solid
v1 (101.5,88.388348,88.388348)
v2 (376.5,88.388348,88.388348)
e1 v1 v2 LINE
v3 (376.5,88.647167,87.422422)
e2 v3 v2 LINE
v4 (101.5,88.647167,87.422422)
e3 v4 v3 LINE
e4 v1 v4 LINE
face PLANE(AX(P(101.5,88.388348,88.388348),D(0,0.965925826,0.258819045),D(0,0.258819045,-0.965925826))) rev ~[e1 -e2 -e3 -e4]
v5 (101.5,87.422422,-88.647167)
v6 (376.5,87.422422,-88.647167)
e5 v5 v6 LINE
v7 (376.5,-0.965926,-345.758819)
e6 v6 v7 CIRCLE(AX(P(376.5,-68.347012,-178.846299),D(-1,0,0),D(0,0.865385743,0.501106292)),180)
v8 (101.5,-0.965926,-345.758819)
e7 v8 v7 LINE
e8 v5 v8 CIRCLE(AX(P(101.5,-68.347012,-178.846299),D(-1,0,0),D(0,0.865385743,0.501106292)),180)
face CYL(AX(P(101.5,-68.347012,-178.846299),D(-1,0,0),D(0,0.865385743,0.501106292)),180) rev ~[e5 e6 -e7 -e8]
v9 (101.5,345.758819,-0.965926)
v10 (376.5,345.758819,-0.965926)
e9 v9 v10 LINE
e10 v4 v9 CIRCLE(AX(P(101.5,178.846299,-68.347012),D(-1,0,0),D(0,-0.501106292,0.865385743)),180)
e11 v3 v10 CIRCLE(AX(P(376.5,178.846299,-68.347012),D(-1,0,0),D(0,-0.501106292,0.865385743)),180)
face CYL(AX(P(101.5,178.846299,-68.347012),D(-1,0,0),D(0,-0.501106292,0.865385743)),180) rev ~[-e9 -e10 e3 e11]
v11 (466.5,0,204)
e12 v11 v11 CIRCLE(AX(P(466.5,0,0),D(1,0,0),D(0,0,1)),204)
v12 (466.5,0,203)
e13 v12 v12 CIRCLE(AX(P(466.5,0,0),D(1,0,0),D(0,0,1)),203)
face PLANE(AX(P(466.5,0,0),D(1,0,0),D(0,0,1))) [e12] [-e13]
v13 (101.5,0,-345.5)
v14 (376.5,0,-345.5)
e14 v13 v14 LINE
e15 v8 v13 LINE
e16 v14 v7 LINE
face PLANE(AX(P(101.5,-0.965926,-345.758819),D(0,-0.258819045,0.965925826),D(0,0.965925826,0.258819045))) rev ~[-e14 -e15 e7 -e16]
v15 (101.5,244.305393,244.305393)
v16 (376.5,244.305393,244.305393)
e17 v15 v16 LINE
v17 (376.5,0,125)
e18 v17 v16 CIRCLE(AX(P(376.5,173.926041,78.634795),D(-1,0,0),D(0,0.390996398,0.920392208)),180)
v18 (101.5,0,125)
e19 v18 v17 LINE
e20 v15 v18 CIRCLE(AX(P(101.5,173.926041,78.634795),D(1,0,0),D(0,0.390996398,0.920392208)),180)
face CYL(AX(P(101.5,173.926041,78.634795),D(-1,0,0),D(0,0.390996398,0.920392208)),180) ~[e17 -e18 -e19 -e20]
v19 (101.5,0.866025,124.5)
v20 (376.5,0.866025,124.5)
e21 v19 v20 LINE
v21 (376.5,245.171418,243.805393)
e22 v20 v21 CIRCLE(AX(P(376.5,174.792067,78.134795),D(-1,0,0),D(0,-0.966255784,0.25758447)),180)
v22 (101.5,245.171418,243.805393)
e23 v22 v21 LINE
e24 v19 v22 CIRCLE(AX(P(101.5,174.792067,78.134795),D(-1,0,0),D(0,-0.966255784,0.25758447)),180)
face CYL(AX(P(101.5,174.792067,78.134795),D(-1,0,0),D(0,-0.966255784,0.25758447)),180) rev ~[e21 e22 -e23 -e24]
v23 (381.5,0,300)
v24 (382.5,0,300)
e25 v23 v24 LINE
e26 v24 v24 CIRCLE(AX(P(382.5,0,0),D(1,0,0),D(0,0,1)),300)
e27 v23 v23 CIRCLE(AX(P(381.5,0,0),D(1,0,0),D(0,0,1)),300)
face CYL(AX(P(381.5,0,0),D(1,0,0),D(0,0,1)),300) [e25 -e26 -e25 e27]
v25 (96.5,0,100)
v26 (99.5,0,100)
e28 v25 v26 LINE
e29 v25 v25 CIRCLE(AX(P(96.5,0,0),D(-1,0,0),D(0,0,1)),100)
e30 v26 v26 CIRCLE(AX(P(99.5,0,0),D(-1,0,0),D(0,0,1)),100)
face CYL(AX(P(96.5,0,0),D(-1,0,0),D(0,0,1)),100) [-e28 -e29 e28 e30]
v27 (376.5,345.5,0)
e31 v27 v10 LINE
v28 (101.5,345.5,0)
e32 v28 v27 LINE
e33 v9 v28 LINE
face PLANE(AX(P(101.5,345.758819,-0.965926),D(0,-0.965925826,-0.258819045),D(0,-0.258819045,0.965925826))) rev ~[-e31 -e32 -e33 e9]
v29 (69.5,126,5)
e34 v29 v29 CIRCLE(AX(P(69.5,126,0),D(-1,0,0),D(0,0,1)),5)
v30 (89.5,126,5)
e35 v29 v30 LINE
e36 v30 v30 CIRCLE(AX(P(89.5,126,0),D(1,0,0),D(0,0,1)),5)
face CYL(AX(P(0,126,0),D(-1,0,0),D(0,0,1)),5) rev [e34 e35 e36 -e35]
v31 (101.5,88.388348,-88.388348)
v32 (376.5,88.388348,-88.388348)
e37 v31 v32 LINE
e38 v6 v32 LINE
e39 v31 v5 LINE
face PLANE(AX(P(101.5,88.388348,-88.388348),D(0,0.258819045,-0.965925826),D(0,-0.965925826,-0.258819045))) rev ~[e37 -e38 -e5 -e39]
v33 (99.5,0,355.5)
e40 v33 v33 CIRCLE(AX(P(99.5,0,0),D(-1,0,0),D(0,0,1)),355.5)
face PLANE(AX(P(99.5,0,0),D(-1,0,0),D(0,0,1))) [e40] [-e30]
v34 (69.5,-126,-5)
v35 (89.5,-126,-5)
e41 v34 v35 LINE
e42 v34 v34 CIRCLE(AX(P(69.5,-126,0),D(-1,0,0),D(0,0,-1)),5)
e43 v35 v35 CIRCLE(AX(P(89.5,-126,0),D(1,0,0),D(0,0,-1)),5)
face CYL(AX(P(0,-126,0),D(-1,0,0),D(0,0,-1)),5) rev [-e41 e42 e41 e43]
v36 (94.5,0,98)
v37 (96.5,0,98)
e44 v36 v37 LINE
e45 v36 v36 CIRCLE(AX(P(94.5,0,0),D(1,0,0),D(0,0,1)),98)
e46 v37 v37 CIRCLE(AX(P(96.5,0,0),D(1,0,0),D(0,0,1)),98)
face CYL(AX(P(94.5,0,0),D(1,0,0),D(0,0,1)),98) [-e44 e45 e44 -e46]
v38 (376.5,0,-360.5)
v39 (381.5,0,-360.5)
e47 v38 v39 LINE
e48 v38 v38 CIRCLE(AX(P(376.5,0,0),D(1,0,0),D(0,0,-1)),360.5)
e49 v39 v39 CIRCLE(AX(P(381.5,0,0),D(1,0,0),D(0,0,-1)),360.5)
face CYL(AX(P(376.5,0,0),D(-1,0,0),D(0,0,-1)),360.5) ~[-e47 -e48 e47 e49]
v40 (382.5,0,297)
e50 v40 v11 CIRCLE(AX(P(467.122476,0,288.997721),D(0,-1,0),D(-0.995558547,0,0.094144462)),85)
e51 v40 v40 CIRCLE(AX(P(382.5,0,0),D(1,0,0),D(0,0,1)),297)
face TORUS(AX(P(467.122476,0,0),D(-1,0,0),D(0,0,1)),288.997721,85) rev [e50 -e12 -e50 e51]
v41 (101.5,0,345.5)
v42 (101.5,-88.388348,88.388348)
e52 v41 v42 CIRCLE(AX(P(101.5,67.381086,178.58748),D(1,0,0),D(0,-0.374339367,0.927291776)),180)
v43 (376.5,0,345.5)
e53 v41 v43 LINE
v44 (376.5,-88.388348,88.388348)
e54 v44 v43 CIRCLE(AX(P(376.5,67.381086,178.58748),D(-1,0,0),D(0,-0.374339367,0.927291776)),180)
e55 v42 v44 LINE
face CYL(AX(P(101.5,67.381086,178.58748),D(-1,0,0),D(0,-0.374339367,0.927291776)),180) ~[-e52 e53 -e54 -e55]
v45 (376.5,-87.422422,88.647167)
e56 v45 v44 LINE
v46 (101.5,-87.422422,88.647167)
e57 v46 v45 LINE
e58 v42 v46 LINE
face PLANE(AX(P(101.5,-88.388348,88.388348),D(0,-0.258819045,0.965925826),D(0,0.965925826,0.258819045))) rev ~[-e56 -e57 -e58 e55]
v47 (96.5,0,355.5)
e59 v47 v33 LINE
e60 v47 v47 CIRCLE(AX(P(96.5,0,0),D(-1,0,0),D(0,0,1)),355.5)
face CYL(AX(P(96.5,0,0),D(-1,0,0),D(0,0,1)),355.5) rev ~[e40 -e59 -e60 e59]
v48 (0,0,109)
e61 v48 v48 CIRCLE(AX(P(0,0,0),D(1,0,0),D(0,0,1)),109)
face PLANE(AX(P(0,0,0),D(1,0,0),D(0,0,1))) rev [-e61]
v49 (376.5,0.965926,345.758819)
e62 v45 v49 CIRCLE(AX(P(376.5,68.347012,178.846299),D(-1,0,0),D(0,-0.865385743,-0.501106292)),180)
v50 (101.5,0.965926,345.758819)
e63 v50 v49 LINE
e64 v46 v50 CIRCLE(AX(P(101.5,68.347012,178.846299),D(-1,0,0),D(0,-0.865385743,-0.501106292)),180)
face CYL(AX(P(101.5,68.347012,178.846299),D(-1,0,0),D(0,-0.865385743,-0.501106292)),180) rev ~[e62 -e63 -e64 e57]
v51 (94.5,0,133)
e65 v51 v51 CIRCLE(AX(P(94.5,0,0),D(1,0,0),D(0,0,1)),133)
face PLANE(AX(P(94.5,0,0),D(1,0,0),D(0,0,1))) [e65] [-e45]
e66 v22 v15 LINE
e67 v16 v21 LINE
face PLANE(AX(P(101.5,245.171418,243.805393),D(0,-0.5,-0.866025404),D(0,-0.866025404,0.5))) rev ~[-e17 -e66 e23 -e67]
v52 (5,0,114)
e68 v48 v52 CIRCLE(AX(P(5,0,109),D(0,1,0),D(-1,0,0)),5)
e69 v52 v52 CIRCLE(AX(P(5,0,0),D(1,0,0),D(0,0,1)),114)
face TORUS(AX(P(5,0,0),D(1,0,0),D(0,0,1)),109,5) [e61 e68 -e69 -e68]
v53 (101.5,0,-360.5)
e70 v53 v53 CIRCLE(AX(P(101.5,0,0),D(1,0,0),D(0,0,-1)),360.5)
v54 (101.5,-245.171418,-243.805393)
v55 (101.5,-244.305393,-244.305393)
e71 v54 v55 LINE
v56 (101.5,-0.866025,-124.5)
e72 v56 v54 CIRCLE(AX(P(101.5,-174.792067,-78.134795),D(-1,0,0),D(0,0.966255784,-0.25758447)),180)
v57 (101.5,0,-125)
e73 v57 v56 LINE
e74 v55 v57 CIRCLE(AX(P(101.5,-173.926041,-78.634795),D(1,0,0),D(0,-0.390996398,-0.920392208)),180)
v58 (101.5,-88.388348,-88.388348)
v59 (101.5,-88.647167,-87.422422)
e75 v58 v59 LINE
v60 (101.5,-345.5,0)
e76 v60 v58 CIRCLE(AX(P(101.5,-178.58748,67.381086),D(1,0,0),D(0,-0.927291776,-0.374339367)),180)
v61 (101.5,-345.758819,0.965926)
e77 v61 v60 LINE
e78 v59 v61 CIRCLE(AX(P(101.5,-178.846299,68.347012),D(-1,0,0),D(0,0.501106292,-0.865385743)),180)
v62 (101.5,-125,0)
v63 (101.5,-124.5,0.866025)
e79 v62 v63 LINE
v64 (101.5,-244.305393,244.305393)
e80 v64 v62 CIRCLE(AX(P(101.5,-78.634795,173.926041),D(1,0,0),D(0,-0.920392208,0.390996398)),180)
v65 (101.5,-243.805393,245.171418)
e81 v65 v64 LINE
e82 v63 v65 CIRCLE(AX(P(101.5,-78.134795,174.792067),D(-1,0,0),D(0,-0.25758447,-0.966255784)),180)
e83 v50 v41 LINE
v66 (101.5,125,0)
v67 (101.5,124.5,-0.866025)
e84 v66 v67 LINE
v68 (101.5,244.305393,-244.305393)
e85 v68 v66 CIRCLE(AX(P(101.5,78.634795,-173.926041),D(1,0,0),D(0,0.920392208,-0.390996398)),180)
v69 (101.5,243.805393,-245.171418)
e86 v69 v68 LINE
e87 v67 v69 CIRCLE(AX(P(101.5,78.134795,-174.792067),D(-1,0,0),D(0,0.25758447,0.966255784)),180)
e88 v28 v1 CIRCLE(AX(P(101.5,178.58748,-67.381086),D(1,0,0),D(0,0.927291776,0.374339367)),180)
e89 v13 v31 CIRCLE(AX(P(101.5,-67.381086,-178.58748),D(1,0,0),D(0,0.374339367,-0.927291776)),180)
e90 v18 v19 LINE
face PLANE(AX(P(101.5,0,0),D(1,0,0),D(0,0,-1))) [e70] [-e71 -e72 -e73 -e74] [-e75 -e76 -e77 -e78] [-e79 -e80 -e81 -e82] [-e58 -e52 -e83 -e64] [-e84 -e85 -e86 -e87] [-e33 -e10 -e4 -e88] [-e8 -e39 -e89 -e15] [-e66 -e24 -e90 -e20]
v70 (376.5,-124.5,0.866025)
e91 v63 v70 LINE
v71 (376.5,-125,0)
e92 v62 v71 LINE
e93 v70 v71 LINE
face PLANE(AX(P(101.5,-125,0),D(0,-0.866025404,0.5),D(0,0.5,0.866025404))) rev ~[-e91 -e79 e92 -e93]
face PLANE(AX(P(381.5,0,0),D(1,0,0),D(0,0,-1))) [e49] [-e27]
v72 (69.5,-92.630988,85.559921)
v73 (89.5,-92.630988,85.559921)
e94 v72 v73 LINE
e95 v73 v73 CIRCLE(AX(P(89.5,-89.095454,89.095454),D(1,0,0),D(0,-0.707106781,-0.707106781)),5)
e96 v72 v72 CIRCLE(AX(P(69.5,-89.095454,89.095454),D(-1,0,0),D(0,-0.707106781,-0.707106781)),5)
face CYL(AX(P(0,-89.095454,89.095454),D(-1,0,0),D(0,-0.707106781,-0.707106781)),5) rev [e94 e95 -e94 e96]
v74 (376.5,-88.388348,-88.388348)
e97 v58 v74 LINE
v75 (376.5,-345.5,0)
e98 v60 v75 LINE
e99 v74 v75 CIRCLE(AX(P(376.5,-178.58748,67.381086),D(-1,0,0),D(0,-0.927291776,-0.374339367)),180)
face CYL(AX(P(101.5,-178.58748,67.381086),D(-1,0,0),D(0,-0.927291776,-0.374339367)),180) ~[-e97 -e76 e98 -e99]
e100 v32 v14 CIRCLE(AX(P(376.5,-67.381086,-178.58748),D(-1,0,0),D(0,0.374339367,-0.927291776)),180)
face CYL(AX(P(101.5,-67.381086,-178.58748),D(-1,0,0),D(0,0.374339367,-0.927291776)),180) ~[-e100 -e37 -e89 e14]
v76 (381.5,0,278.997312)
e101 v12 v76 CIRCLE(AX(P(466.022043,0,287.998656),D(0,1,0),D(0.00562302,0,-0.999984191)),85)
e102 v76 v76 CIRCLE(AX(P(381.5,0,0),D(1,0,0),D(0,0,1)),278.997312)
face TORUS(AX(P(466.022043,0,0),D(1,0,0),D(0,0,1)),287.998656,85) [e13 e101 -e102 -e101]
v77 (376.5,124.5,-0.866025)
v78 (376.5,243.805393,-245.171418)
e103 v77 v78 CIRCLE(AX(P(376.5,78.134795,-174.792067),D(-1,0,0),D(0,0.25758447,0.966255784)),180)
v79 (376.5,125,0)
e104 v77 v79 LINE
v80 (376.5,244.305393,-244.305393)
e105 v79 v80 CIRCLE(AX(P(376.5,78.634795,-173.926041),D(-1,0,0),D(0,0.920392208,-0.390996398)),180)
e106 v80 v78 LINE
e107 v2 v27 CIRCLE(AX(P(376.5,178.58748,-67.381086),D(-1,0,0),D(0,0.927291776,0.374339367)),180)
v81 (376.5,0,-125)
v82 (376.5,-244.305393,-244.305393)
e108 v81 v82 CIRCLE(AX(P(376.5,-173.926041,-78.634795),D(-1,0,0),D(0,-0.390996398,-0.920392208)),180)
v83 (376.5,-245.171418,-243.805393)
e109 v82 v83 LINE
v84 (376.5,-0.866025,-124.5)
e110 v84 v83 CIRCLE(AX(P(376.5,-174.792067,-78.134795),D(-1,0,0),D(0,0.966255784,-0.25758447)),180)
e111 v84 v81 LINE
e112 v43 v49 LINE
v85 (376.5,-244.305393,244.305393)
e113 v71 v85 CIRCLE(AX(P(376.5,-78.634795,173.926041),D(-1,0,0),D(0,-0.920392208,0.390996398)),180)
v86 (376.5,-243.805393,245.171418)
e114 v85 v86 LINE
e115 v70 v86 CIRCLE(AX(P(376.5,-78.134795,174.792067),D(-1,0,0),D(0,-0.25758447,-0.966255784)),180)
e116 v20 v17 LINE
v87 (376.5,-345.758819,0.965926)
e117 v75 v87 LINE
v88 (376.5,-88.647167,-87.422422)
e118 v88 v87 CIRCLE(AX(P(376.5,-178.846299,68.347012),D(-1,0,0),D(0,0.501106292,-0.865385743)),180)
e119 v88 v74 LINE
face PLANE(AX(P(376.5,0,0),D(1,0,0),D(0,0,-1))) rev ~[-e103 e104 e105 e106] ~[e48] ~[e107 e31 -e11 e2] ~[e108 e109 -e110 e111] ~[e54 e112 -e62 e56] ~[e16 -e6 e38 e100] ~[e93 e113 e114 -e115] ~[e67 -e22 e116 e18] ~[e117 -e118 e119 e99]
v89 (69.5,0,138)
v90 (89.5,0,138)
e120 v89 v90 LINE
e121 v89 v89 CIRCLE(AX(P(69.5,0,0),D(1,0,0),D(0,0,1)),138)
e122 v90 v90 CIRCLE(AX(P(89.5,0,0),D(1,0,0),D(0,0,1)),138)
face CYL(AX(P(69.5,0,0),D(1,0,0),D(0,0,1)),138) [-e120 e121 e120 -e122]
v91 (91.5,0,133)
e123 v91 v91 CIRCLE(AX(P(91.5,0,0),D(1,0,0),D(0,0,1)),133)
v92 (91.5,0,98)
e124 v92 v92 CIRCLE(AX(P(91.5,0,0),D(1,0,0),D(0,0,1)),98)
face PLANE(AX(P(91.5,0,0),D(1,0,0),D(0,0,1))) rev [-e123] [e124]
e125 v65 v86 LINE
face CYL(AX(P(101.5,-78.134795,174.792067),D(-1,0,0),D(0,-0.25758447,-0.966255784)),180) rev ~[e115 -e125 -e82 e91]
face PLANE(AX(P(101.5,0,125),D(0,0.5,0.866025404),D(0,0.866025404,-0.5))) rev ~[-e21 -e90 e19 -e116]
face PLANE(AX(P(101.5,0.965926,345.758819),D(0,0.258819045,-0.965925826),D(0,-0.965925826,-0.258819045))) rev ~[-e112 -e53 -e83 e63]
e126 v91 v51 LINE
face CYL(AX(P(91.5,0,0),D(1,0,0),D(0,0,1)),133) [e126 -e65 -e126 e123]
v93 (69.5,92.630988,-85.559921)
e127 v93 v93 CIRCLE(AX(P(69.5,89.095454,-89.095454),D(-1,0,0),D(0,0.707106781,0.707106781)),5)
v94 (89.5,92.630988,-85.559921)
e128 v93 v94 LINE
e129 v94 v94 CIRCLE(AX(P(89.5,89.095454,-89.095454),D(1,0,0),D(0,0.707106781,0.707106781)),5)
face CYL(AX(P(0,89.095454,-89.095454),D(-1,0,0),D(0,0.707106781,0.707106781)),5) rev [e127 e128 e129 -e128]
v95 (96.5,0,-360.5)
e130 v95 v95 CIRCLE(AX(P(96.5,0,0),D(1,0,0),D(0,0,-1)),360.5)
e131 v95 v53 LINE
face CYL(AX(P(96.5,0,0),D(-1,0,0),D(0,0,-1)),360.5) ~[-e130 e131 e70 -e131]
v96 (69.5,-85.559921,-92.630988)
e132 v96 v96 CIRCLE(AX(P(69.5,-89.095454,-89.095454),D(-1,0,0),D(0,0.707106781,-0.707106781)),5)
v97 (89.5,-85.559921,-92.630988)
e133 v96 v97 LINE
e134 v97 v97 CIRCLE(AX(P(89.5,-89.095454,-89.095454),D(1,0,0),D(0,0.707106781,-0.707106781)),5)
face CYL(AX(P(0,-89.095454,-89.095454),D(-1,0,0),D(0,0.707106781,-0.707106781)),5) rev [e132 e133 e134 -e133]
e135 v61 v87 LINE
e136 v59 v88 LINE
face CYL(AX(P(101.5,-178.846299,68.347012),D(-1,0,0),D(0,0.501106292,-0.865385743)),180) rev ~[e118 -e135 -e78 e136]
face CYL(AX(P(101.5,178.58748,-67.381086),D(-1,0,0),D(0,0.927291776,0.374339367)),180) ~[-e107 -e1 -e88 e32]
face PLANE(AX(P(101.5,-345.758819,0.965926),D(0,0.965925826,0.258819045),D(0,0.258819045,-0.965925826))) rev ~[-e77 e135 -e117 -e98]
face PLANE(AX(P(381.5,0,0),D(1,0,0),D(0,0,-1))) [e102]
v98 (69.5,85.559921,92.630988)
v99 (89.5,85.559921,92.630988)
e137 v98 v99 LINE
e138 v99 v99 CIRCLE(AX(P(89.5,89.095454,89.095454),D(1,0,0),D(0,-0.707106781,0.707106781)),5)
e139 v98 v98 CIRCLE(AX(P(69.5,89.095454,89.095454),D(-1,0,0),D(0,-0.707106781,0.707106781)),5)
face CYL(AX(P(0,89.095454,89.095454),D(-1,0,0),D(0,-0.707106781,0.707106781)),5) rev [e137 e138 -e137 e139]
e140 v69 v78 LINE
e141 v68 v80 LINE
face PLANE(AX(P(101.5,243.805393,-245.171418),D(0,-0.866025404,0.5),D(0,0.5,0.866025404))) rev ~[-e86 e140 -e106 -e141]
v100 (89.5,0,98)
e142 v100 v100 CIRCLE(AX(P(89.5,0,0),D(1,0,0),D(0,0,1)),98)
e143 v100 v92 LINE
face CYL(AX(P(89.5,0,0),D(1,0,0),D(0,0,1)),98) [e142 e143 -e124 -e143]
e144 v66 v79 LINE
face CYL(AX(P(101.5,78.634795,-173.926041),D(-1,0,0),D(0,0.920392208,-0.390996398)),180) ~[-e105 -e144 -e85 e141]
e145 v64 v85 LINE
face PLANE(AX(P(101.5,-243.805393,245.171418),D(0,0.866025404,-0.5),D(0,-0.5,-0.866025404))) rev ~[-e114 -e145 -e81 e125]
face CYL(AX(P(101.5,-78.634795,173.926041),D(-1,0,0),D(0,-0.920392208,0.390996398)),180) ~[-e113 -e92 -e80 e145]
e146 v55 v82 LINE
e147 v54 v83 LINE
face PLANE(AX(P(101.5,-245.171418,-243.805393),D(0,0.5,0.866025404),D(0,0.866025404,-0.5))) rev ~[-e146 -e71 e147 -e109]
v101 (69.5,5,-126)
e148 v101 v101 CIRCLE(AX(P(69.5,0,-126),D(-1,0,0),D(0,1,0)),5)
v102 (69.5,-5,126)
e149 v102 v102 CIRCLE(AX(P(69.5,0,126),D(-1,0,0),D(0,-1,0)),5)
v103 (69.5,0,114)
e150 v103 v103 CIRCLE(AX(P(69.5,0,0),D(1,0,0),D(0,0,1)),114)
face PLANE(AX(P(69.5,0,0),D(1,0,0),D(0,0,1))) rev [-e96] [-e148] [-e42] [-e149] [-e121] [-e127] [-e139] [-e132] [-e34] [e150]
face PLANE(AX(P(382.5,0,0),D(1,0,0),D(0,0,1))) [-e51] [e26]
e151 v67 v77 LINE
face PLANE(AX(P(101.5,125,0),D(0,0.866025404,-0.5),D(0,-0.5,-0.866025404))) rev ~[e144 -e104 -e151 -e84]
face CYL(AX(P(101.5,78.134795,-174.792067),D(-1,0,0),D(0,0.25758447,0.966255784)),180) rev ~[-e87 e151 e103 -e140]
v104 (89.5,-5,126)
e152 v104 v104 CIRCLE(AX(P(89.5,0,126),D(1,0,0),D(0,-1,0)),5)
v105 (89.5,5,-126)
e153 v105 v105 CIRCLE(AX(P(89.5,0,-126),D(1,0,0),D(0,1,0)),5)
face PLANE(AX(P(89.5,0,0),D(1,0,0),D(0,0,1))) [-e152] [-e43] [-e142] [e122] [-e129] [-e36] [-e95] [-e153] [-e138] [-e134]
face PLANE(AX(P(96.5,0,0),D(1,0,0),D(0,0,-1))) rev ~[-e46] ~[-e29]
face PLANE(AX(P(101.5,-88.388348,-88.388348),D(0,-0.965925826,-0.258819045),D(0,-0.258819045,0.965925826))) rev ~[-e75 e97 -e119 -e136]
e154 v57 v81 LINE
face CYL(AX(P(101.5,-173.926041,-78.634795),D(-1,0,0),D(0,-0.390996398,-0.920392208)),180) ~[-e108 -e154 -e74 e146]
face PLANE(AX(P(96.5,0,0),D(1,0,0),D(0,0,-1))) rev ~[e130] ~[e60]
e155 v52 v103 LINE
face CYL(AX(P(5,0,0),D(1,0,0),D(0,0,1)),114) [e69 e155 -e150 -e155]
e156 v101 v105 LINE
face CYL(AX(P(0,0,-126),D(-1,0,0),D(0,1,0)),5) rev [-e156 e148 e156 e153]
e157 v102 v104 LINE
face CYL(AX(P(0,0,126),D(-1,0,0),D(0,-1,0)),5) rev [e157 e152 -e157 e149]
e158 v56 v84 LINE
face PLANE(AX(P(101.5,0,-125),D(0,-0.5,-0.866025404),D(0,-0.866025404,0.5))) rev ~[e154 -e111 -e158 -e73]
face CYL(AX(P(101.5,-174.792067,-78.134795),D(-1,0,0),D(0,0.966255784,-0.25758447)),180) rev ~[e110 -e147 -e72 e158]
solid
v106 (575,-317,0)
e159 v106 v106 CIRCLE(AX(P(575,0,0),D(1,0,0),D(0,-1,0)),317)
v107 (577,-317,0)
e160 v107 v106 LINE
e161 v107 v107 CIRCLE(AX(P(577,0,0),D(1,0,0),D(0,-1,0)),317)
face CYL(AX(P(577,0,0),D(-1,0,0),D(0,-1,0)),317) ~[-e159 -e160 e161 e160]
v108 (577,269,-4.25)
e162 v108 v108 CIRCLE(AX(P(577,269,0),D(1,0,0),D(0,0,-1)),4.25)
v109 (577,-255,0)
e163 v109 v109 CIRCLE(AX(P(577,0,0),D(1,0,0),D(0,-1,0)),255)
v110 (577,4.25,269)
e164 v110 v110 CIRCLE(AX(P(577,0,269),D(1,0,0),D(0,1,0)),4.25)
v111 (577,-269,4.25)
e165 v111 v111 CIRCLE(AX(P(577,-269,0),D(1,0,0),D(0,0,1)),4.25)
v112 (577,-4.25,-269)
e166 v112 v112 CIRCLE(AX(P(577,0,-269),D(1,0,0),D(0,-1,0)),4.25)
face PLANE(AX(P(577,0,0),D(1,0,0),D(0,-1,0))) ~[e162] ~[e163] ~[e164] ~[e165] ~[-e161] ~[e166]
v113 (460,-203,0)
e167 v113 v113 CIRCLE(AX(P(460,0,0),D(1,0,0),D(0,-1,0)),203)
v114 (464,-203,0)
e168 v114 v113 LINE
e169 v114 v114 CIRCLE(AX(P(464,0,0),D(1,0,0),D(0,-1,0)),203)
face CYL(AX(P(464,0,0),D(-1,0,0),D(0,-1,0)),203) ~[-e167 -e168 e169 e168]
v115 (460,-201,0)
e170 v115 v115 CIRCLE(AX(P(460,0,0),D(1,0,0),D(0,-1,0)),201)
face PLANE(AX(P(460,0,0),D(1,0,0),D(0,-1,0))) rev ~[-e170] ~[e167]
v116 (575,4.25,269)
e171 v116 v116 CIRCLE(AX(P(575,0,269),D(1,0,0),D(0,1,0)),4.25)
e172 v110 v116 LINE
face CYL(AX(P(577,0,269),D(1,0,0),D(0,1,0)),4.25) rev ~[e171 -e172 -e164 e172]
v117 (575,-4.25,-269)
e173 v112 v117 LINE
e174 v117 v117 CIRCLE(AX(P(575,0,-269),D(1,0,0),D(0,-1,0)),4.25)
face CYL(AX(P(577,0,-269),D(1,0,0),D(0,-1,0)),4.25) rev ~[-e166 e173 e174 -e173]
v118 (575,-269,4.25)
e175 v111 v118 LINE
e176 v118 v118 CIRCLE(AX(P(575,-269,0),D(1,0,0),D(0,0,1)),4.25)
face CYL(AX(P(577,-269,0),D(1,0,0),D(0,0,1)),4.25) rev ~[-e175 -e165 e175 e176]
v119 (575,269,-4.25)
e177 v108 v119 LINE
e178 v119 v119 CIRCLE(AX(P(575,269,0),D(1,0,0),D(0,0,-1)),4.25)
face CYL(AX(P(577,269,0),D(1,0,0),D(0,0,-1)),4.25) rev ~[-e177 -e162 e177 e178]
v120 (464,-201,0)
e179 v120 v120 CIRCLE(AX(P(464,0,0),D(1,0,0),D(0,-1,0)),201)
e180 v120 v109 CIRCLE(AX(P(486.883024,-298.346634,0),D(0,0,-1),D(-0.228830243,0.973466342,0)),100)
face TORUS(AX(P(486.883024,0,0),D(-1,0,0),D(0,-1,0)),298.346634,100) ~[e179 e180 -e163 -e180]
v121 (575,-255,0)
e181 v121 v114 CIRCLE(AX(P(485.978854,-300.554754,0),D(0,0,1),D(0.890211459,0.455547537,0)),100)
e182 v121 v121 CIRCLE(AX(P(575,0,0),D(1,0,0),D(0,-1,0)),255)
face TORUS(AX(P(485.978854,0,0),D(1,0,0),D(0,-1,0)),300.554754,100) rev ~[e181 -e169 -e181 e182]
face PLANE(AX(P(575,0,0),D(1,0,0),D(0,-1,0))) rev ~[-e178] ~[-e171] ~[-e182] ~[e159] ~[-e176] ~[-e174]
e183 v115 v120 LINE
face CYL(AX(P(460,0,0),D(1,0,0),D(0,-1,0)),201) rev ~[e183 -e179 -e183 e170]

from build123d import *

# Parameters (mm, degrees)
SKETCH2_R         = 360.5
EXTRUDE1_DEPTH    = 5
SKETCH9_R         = 355.5
SKETCH9_R_2       = 100
EXTRUDE7_DEPTH    = 3
SKETCH3_R         = 360.5
EXTRUDE2_DEPTH    = 5
EXTRUDE3_DEPTH    = 280
CIRPATTERN1_COUNT = 8
SKETCH7_R         = 4.25
EXTRUDE5_DEPTH    = 5
CIRPATTERN2_COUNT = 4
SKETCH8_R         = 5
EXTRUDE6_DEPTH    = 89.5
CIRPATTERN3_COUNT = 8


with BuildPart() as part:
    # Sketch1 → Revolve1 (revolve)
    with BuildSketch(Plane.XY, mode=Mode.PRIVATE) as revolve1_sk:
        with BuildLine():
            Line((0, 0), (0, 109))
            ThreePointArc((0, 109), (1.464466094, 112.535533906), (5, 114))
            Line((5, 114), (69.5, 114))
            Line((69.5, 114), (69.5, 138))
            Line((69.5, 138), (89.5, 138))
            Line((89.5, 138), (89.5, 98))
            Line((89.5, 98), (91.5, 98))
            Line((91.5, 98), (91.5, 133))
            Line((91.5, 133), (94.5, 133))
            Line((94.5, 133), (94.5, 98))
            Line((94.5, 98), (96.5, 98))
            Line((96.5, 98), (96.5, 0))
            Line((96.5, 0), (0, 0))
        make_face()
    revolve(revolve1_sk.sketch.rotate(Axis((0, 0, 0), (1, 0, 0)), 90), axis=Axis((0, 0, 0), (1, 0, 0)))

    # Sketch2 → Extrude1 (add)
    with BuildSketch(Plane(origin=(96.5, 0, 0), x_dir=(0, 0, -1), z_dir=(1, 0, 0))):
        Circle(SKETCH2_R)
    extrude(amount=EXTRUDE1_DEPTH)

    # Sketch9 → Extrude7 (cut)
    with BuildSketch(Plane.ZY.offset(-96.5)):
        Circle(SKETCH9_R)
        Circle(SKETCH9_R_2, mode=Mode.SUBTRACT)
    extrude(amount=-EXTRUDE7_DEPTH, mode=Mode.SUBTRACT)



with BuildPart() as body_2:
    # Sketch3 → Extrude2 (new body)
    with BuildSketch(Plane(origin=(376.5, 0, 0), x_dir=(0, 0, -1), z_dir=(1, 0, 0))):
        Circle(SKETCH3_R)
    extrude(amount=EXTRUDE2_DEPTH)


with BuildPart() as part_1:
    add(part.part)

    add(body_2.part)  # Extrude3 merges body 2
    # Sketch4 → Extrude3 (add)
    with BuildSketch(Plane(origin=(101.5, 0, 0), x_dir=(0, 0, -1), z_dir=(1, 0, 0))):
        with BuildLine():
            Line((0, 125), (0.866025404, 124.5))
            ThreePointArc((0.866025404, 124.5), (95.805210607, 239.87865649), (245.171418304, 243.8053929))
            Line((245.171418304, 243.8053929), (244.3053929, 244.3053929))
            ThreePointArc((244.3053929, 244.3053929), (94.939185203, 240.37865649), (0, 125))
        make_face()
    extrude3 = extrude(amount=EXTRUDE3_DEPTH)

    # CirPattern1: Extrude3 ×8 about axis
    cirpattern1_axis = Axis((0, 0, 0), (1, 0, 0))
    for i in range(1, CIRPATTERN1_COUNT):
        add(extrude3.rotate(cirpattern1_axis, i * 360 / CIRPATTERN1_COUNT))

    # Sketch5 → Revolve2 (revolve)
    with BuildSketch(Plane.XY, mode=Mode.PRIVATE) as revolve2_sk:
        with BuildLine():
            Line((381.5, 300), (382.5, 300))
            Line((382.5, 300), (382.5, 297))
            ThreePointArc((382.5, 297), (404.043751848, 232.023388766), (466.5, 204))
            Line((466.5, 204), (466.5, 203))
            ThreePointArc((466.5, 203), (402.975614999, 230.988588031), (381.5, 297))
            Line((381.5, 297), (381.5, 300))
        make_face()
    revolve(revolve2_sk.sketch.rotate(Axis((0, 0, 0), (1, 0, 0)), 90), axis=Axis((0, 0, 0), (1, 0, 0)))

    # Sketch8 → Extrude6 (cut)
    with BuildSketch(Plane(origin=(0, 0, 0), x_dir=(0, 0, -1), z_dir=(1, 0, 0))):
        with Locations(Location((0, 126, 0), (0, 0, 180))):
            Circle(SKETCH8_R)
    extrude6 = extrude(amount=EXTRUDE6_DEPTH, mode=Mode.SUBTRACT)

    # CirPattern3: Extrude6 ×8 about axis
    cirpattern3_axis = Axis((0, 0, 0), (1, 0, 0))
    for i in range(1, CIRPATTERN3_COUNT):
        add(extrude6.rotate(cirpattern3_axis, i * 360 / CIRPATTERN3_COUNT), mode=Mode.SUBTRACT)


with BuildPart() as body_2_2:
    # Sketch6 → Revolve3 (revolve)
    with BuildSketch(Plane.XY, mode=Mode.PRIVATE) as revolve3_sk:
        with BuildLine():
            Line((577, 317), (575, 317))
            Line((575, 317), (575, 255))
            ThreePointArc((575, 255), (528.401338972, 209.999064886), (464, 203))
            Line((464, 203), (460, 203))
            Line((460, 203), (460, 201))
            Line((460, 201), (464, 201))
            ThreePointArc((464, 201), (530.000318465, 208.119703952), (577, 255))
            Line((577, 255), (577, 317))
        make_face()
    revolve(revolve3_sk.sketch.rotate(Axis((0, 0, 0), (1, 0, 0)), 180), axis=Axis((0, 0, 0), (1, 0, 0)))

    # Sketch7 → Extrude5 (cut)
    with BuildSketch(Plane(origin=(577, 0, 0), x_dir=(0, 0, -1), z_dir=(1, 0, 0))):
        with Locations((0, 269)):
            Circle(SKETCH7_R)
    extrude5 = extrude(amount=-EXTRUDE5_DEPTH, mode=Mode.SUBTRACT)

    # CirPattern2: Extrude5 ×4 about axis
    cirpattern2_axis = Axis((0, 0, 0), (1, 0, 0))
    for i in range(1, CIRPATTERN2_COUNT):
        add(extrude5.rotate(cirpattern2_axis, i * 360 / CIRPATTERN2_COUNT), mode=Mode.SUBTRACT)


solid = Compound([part_1.part, body_2_2.part])
